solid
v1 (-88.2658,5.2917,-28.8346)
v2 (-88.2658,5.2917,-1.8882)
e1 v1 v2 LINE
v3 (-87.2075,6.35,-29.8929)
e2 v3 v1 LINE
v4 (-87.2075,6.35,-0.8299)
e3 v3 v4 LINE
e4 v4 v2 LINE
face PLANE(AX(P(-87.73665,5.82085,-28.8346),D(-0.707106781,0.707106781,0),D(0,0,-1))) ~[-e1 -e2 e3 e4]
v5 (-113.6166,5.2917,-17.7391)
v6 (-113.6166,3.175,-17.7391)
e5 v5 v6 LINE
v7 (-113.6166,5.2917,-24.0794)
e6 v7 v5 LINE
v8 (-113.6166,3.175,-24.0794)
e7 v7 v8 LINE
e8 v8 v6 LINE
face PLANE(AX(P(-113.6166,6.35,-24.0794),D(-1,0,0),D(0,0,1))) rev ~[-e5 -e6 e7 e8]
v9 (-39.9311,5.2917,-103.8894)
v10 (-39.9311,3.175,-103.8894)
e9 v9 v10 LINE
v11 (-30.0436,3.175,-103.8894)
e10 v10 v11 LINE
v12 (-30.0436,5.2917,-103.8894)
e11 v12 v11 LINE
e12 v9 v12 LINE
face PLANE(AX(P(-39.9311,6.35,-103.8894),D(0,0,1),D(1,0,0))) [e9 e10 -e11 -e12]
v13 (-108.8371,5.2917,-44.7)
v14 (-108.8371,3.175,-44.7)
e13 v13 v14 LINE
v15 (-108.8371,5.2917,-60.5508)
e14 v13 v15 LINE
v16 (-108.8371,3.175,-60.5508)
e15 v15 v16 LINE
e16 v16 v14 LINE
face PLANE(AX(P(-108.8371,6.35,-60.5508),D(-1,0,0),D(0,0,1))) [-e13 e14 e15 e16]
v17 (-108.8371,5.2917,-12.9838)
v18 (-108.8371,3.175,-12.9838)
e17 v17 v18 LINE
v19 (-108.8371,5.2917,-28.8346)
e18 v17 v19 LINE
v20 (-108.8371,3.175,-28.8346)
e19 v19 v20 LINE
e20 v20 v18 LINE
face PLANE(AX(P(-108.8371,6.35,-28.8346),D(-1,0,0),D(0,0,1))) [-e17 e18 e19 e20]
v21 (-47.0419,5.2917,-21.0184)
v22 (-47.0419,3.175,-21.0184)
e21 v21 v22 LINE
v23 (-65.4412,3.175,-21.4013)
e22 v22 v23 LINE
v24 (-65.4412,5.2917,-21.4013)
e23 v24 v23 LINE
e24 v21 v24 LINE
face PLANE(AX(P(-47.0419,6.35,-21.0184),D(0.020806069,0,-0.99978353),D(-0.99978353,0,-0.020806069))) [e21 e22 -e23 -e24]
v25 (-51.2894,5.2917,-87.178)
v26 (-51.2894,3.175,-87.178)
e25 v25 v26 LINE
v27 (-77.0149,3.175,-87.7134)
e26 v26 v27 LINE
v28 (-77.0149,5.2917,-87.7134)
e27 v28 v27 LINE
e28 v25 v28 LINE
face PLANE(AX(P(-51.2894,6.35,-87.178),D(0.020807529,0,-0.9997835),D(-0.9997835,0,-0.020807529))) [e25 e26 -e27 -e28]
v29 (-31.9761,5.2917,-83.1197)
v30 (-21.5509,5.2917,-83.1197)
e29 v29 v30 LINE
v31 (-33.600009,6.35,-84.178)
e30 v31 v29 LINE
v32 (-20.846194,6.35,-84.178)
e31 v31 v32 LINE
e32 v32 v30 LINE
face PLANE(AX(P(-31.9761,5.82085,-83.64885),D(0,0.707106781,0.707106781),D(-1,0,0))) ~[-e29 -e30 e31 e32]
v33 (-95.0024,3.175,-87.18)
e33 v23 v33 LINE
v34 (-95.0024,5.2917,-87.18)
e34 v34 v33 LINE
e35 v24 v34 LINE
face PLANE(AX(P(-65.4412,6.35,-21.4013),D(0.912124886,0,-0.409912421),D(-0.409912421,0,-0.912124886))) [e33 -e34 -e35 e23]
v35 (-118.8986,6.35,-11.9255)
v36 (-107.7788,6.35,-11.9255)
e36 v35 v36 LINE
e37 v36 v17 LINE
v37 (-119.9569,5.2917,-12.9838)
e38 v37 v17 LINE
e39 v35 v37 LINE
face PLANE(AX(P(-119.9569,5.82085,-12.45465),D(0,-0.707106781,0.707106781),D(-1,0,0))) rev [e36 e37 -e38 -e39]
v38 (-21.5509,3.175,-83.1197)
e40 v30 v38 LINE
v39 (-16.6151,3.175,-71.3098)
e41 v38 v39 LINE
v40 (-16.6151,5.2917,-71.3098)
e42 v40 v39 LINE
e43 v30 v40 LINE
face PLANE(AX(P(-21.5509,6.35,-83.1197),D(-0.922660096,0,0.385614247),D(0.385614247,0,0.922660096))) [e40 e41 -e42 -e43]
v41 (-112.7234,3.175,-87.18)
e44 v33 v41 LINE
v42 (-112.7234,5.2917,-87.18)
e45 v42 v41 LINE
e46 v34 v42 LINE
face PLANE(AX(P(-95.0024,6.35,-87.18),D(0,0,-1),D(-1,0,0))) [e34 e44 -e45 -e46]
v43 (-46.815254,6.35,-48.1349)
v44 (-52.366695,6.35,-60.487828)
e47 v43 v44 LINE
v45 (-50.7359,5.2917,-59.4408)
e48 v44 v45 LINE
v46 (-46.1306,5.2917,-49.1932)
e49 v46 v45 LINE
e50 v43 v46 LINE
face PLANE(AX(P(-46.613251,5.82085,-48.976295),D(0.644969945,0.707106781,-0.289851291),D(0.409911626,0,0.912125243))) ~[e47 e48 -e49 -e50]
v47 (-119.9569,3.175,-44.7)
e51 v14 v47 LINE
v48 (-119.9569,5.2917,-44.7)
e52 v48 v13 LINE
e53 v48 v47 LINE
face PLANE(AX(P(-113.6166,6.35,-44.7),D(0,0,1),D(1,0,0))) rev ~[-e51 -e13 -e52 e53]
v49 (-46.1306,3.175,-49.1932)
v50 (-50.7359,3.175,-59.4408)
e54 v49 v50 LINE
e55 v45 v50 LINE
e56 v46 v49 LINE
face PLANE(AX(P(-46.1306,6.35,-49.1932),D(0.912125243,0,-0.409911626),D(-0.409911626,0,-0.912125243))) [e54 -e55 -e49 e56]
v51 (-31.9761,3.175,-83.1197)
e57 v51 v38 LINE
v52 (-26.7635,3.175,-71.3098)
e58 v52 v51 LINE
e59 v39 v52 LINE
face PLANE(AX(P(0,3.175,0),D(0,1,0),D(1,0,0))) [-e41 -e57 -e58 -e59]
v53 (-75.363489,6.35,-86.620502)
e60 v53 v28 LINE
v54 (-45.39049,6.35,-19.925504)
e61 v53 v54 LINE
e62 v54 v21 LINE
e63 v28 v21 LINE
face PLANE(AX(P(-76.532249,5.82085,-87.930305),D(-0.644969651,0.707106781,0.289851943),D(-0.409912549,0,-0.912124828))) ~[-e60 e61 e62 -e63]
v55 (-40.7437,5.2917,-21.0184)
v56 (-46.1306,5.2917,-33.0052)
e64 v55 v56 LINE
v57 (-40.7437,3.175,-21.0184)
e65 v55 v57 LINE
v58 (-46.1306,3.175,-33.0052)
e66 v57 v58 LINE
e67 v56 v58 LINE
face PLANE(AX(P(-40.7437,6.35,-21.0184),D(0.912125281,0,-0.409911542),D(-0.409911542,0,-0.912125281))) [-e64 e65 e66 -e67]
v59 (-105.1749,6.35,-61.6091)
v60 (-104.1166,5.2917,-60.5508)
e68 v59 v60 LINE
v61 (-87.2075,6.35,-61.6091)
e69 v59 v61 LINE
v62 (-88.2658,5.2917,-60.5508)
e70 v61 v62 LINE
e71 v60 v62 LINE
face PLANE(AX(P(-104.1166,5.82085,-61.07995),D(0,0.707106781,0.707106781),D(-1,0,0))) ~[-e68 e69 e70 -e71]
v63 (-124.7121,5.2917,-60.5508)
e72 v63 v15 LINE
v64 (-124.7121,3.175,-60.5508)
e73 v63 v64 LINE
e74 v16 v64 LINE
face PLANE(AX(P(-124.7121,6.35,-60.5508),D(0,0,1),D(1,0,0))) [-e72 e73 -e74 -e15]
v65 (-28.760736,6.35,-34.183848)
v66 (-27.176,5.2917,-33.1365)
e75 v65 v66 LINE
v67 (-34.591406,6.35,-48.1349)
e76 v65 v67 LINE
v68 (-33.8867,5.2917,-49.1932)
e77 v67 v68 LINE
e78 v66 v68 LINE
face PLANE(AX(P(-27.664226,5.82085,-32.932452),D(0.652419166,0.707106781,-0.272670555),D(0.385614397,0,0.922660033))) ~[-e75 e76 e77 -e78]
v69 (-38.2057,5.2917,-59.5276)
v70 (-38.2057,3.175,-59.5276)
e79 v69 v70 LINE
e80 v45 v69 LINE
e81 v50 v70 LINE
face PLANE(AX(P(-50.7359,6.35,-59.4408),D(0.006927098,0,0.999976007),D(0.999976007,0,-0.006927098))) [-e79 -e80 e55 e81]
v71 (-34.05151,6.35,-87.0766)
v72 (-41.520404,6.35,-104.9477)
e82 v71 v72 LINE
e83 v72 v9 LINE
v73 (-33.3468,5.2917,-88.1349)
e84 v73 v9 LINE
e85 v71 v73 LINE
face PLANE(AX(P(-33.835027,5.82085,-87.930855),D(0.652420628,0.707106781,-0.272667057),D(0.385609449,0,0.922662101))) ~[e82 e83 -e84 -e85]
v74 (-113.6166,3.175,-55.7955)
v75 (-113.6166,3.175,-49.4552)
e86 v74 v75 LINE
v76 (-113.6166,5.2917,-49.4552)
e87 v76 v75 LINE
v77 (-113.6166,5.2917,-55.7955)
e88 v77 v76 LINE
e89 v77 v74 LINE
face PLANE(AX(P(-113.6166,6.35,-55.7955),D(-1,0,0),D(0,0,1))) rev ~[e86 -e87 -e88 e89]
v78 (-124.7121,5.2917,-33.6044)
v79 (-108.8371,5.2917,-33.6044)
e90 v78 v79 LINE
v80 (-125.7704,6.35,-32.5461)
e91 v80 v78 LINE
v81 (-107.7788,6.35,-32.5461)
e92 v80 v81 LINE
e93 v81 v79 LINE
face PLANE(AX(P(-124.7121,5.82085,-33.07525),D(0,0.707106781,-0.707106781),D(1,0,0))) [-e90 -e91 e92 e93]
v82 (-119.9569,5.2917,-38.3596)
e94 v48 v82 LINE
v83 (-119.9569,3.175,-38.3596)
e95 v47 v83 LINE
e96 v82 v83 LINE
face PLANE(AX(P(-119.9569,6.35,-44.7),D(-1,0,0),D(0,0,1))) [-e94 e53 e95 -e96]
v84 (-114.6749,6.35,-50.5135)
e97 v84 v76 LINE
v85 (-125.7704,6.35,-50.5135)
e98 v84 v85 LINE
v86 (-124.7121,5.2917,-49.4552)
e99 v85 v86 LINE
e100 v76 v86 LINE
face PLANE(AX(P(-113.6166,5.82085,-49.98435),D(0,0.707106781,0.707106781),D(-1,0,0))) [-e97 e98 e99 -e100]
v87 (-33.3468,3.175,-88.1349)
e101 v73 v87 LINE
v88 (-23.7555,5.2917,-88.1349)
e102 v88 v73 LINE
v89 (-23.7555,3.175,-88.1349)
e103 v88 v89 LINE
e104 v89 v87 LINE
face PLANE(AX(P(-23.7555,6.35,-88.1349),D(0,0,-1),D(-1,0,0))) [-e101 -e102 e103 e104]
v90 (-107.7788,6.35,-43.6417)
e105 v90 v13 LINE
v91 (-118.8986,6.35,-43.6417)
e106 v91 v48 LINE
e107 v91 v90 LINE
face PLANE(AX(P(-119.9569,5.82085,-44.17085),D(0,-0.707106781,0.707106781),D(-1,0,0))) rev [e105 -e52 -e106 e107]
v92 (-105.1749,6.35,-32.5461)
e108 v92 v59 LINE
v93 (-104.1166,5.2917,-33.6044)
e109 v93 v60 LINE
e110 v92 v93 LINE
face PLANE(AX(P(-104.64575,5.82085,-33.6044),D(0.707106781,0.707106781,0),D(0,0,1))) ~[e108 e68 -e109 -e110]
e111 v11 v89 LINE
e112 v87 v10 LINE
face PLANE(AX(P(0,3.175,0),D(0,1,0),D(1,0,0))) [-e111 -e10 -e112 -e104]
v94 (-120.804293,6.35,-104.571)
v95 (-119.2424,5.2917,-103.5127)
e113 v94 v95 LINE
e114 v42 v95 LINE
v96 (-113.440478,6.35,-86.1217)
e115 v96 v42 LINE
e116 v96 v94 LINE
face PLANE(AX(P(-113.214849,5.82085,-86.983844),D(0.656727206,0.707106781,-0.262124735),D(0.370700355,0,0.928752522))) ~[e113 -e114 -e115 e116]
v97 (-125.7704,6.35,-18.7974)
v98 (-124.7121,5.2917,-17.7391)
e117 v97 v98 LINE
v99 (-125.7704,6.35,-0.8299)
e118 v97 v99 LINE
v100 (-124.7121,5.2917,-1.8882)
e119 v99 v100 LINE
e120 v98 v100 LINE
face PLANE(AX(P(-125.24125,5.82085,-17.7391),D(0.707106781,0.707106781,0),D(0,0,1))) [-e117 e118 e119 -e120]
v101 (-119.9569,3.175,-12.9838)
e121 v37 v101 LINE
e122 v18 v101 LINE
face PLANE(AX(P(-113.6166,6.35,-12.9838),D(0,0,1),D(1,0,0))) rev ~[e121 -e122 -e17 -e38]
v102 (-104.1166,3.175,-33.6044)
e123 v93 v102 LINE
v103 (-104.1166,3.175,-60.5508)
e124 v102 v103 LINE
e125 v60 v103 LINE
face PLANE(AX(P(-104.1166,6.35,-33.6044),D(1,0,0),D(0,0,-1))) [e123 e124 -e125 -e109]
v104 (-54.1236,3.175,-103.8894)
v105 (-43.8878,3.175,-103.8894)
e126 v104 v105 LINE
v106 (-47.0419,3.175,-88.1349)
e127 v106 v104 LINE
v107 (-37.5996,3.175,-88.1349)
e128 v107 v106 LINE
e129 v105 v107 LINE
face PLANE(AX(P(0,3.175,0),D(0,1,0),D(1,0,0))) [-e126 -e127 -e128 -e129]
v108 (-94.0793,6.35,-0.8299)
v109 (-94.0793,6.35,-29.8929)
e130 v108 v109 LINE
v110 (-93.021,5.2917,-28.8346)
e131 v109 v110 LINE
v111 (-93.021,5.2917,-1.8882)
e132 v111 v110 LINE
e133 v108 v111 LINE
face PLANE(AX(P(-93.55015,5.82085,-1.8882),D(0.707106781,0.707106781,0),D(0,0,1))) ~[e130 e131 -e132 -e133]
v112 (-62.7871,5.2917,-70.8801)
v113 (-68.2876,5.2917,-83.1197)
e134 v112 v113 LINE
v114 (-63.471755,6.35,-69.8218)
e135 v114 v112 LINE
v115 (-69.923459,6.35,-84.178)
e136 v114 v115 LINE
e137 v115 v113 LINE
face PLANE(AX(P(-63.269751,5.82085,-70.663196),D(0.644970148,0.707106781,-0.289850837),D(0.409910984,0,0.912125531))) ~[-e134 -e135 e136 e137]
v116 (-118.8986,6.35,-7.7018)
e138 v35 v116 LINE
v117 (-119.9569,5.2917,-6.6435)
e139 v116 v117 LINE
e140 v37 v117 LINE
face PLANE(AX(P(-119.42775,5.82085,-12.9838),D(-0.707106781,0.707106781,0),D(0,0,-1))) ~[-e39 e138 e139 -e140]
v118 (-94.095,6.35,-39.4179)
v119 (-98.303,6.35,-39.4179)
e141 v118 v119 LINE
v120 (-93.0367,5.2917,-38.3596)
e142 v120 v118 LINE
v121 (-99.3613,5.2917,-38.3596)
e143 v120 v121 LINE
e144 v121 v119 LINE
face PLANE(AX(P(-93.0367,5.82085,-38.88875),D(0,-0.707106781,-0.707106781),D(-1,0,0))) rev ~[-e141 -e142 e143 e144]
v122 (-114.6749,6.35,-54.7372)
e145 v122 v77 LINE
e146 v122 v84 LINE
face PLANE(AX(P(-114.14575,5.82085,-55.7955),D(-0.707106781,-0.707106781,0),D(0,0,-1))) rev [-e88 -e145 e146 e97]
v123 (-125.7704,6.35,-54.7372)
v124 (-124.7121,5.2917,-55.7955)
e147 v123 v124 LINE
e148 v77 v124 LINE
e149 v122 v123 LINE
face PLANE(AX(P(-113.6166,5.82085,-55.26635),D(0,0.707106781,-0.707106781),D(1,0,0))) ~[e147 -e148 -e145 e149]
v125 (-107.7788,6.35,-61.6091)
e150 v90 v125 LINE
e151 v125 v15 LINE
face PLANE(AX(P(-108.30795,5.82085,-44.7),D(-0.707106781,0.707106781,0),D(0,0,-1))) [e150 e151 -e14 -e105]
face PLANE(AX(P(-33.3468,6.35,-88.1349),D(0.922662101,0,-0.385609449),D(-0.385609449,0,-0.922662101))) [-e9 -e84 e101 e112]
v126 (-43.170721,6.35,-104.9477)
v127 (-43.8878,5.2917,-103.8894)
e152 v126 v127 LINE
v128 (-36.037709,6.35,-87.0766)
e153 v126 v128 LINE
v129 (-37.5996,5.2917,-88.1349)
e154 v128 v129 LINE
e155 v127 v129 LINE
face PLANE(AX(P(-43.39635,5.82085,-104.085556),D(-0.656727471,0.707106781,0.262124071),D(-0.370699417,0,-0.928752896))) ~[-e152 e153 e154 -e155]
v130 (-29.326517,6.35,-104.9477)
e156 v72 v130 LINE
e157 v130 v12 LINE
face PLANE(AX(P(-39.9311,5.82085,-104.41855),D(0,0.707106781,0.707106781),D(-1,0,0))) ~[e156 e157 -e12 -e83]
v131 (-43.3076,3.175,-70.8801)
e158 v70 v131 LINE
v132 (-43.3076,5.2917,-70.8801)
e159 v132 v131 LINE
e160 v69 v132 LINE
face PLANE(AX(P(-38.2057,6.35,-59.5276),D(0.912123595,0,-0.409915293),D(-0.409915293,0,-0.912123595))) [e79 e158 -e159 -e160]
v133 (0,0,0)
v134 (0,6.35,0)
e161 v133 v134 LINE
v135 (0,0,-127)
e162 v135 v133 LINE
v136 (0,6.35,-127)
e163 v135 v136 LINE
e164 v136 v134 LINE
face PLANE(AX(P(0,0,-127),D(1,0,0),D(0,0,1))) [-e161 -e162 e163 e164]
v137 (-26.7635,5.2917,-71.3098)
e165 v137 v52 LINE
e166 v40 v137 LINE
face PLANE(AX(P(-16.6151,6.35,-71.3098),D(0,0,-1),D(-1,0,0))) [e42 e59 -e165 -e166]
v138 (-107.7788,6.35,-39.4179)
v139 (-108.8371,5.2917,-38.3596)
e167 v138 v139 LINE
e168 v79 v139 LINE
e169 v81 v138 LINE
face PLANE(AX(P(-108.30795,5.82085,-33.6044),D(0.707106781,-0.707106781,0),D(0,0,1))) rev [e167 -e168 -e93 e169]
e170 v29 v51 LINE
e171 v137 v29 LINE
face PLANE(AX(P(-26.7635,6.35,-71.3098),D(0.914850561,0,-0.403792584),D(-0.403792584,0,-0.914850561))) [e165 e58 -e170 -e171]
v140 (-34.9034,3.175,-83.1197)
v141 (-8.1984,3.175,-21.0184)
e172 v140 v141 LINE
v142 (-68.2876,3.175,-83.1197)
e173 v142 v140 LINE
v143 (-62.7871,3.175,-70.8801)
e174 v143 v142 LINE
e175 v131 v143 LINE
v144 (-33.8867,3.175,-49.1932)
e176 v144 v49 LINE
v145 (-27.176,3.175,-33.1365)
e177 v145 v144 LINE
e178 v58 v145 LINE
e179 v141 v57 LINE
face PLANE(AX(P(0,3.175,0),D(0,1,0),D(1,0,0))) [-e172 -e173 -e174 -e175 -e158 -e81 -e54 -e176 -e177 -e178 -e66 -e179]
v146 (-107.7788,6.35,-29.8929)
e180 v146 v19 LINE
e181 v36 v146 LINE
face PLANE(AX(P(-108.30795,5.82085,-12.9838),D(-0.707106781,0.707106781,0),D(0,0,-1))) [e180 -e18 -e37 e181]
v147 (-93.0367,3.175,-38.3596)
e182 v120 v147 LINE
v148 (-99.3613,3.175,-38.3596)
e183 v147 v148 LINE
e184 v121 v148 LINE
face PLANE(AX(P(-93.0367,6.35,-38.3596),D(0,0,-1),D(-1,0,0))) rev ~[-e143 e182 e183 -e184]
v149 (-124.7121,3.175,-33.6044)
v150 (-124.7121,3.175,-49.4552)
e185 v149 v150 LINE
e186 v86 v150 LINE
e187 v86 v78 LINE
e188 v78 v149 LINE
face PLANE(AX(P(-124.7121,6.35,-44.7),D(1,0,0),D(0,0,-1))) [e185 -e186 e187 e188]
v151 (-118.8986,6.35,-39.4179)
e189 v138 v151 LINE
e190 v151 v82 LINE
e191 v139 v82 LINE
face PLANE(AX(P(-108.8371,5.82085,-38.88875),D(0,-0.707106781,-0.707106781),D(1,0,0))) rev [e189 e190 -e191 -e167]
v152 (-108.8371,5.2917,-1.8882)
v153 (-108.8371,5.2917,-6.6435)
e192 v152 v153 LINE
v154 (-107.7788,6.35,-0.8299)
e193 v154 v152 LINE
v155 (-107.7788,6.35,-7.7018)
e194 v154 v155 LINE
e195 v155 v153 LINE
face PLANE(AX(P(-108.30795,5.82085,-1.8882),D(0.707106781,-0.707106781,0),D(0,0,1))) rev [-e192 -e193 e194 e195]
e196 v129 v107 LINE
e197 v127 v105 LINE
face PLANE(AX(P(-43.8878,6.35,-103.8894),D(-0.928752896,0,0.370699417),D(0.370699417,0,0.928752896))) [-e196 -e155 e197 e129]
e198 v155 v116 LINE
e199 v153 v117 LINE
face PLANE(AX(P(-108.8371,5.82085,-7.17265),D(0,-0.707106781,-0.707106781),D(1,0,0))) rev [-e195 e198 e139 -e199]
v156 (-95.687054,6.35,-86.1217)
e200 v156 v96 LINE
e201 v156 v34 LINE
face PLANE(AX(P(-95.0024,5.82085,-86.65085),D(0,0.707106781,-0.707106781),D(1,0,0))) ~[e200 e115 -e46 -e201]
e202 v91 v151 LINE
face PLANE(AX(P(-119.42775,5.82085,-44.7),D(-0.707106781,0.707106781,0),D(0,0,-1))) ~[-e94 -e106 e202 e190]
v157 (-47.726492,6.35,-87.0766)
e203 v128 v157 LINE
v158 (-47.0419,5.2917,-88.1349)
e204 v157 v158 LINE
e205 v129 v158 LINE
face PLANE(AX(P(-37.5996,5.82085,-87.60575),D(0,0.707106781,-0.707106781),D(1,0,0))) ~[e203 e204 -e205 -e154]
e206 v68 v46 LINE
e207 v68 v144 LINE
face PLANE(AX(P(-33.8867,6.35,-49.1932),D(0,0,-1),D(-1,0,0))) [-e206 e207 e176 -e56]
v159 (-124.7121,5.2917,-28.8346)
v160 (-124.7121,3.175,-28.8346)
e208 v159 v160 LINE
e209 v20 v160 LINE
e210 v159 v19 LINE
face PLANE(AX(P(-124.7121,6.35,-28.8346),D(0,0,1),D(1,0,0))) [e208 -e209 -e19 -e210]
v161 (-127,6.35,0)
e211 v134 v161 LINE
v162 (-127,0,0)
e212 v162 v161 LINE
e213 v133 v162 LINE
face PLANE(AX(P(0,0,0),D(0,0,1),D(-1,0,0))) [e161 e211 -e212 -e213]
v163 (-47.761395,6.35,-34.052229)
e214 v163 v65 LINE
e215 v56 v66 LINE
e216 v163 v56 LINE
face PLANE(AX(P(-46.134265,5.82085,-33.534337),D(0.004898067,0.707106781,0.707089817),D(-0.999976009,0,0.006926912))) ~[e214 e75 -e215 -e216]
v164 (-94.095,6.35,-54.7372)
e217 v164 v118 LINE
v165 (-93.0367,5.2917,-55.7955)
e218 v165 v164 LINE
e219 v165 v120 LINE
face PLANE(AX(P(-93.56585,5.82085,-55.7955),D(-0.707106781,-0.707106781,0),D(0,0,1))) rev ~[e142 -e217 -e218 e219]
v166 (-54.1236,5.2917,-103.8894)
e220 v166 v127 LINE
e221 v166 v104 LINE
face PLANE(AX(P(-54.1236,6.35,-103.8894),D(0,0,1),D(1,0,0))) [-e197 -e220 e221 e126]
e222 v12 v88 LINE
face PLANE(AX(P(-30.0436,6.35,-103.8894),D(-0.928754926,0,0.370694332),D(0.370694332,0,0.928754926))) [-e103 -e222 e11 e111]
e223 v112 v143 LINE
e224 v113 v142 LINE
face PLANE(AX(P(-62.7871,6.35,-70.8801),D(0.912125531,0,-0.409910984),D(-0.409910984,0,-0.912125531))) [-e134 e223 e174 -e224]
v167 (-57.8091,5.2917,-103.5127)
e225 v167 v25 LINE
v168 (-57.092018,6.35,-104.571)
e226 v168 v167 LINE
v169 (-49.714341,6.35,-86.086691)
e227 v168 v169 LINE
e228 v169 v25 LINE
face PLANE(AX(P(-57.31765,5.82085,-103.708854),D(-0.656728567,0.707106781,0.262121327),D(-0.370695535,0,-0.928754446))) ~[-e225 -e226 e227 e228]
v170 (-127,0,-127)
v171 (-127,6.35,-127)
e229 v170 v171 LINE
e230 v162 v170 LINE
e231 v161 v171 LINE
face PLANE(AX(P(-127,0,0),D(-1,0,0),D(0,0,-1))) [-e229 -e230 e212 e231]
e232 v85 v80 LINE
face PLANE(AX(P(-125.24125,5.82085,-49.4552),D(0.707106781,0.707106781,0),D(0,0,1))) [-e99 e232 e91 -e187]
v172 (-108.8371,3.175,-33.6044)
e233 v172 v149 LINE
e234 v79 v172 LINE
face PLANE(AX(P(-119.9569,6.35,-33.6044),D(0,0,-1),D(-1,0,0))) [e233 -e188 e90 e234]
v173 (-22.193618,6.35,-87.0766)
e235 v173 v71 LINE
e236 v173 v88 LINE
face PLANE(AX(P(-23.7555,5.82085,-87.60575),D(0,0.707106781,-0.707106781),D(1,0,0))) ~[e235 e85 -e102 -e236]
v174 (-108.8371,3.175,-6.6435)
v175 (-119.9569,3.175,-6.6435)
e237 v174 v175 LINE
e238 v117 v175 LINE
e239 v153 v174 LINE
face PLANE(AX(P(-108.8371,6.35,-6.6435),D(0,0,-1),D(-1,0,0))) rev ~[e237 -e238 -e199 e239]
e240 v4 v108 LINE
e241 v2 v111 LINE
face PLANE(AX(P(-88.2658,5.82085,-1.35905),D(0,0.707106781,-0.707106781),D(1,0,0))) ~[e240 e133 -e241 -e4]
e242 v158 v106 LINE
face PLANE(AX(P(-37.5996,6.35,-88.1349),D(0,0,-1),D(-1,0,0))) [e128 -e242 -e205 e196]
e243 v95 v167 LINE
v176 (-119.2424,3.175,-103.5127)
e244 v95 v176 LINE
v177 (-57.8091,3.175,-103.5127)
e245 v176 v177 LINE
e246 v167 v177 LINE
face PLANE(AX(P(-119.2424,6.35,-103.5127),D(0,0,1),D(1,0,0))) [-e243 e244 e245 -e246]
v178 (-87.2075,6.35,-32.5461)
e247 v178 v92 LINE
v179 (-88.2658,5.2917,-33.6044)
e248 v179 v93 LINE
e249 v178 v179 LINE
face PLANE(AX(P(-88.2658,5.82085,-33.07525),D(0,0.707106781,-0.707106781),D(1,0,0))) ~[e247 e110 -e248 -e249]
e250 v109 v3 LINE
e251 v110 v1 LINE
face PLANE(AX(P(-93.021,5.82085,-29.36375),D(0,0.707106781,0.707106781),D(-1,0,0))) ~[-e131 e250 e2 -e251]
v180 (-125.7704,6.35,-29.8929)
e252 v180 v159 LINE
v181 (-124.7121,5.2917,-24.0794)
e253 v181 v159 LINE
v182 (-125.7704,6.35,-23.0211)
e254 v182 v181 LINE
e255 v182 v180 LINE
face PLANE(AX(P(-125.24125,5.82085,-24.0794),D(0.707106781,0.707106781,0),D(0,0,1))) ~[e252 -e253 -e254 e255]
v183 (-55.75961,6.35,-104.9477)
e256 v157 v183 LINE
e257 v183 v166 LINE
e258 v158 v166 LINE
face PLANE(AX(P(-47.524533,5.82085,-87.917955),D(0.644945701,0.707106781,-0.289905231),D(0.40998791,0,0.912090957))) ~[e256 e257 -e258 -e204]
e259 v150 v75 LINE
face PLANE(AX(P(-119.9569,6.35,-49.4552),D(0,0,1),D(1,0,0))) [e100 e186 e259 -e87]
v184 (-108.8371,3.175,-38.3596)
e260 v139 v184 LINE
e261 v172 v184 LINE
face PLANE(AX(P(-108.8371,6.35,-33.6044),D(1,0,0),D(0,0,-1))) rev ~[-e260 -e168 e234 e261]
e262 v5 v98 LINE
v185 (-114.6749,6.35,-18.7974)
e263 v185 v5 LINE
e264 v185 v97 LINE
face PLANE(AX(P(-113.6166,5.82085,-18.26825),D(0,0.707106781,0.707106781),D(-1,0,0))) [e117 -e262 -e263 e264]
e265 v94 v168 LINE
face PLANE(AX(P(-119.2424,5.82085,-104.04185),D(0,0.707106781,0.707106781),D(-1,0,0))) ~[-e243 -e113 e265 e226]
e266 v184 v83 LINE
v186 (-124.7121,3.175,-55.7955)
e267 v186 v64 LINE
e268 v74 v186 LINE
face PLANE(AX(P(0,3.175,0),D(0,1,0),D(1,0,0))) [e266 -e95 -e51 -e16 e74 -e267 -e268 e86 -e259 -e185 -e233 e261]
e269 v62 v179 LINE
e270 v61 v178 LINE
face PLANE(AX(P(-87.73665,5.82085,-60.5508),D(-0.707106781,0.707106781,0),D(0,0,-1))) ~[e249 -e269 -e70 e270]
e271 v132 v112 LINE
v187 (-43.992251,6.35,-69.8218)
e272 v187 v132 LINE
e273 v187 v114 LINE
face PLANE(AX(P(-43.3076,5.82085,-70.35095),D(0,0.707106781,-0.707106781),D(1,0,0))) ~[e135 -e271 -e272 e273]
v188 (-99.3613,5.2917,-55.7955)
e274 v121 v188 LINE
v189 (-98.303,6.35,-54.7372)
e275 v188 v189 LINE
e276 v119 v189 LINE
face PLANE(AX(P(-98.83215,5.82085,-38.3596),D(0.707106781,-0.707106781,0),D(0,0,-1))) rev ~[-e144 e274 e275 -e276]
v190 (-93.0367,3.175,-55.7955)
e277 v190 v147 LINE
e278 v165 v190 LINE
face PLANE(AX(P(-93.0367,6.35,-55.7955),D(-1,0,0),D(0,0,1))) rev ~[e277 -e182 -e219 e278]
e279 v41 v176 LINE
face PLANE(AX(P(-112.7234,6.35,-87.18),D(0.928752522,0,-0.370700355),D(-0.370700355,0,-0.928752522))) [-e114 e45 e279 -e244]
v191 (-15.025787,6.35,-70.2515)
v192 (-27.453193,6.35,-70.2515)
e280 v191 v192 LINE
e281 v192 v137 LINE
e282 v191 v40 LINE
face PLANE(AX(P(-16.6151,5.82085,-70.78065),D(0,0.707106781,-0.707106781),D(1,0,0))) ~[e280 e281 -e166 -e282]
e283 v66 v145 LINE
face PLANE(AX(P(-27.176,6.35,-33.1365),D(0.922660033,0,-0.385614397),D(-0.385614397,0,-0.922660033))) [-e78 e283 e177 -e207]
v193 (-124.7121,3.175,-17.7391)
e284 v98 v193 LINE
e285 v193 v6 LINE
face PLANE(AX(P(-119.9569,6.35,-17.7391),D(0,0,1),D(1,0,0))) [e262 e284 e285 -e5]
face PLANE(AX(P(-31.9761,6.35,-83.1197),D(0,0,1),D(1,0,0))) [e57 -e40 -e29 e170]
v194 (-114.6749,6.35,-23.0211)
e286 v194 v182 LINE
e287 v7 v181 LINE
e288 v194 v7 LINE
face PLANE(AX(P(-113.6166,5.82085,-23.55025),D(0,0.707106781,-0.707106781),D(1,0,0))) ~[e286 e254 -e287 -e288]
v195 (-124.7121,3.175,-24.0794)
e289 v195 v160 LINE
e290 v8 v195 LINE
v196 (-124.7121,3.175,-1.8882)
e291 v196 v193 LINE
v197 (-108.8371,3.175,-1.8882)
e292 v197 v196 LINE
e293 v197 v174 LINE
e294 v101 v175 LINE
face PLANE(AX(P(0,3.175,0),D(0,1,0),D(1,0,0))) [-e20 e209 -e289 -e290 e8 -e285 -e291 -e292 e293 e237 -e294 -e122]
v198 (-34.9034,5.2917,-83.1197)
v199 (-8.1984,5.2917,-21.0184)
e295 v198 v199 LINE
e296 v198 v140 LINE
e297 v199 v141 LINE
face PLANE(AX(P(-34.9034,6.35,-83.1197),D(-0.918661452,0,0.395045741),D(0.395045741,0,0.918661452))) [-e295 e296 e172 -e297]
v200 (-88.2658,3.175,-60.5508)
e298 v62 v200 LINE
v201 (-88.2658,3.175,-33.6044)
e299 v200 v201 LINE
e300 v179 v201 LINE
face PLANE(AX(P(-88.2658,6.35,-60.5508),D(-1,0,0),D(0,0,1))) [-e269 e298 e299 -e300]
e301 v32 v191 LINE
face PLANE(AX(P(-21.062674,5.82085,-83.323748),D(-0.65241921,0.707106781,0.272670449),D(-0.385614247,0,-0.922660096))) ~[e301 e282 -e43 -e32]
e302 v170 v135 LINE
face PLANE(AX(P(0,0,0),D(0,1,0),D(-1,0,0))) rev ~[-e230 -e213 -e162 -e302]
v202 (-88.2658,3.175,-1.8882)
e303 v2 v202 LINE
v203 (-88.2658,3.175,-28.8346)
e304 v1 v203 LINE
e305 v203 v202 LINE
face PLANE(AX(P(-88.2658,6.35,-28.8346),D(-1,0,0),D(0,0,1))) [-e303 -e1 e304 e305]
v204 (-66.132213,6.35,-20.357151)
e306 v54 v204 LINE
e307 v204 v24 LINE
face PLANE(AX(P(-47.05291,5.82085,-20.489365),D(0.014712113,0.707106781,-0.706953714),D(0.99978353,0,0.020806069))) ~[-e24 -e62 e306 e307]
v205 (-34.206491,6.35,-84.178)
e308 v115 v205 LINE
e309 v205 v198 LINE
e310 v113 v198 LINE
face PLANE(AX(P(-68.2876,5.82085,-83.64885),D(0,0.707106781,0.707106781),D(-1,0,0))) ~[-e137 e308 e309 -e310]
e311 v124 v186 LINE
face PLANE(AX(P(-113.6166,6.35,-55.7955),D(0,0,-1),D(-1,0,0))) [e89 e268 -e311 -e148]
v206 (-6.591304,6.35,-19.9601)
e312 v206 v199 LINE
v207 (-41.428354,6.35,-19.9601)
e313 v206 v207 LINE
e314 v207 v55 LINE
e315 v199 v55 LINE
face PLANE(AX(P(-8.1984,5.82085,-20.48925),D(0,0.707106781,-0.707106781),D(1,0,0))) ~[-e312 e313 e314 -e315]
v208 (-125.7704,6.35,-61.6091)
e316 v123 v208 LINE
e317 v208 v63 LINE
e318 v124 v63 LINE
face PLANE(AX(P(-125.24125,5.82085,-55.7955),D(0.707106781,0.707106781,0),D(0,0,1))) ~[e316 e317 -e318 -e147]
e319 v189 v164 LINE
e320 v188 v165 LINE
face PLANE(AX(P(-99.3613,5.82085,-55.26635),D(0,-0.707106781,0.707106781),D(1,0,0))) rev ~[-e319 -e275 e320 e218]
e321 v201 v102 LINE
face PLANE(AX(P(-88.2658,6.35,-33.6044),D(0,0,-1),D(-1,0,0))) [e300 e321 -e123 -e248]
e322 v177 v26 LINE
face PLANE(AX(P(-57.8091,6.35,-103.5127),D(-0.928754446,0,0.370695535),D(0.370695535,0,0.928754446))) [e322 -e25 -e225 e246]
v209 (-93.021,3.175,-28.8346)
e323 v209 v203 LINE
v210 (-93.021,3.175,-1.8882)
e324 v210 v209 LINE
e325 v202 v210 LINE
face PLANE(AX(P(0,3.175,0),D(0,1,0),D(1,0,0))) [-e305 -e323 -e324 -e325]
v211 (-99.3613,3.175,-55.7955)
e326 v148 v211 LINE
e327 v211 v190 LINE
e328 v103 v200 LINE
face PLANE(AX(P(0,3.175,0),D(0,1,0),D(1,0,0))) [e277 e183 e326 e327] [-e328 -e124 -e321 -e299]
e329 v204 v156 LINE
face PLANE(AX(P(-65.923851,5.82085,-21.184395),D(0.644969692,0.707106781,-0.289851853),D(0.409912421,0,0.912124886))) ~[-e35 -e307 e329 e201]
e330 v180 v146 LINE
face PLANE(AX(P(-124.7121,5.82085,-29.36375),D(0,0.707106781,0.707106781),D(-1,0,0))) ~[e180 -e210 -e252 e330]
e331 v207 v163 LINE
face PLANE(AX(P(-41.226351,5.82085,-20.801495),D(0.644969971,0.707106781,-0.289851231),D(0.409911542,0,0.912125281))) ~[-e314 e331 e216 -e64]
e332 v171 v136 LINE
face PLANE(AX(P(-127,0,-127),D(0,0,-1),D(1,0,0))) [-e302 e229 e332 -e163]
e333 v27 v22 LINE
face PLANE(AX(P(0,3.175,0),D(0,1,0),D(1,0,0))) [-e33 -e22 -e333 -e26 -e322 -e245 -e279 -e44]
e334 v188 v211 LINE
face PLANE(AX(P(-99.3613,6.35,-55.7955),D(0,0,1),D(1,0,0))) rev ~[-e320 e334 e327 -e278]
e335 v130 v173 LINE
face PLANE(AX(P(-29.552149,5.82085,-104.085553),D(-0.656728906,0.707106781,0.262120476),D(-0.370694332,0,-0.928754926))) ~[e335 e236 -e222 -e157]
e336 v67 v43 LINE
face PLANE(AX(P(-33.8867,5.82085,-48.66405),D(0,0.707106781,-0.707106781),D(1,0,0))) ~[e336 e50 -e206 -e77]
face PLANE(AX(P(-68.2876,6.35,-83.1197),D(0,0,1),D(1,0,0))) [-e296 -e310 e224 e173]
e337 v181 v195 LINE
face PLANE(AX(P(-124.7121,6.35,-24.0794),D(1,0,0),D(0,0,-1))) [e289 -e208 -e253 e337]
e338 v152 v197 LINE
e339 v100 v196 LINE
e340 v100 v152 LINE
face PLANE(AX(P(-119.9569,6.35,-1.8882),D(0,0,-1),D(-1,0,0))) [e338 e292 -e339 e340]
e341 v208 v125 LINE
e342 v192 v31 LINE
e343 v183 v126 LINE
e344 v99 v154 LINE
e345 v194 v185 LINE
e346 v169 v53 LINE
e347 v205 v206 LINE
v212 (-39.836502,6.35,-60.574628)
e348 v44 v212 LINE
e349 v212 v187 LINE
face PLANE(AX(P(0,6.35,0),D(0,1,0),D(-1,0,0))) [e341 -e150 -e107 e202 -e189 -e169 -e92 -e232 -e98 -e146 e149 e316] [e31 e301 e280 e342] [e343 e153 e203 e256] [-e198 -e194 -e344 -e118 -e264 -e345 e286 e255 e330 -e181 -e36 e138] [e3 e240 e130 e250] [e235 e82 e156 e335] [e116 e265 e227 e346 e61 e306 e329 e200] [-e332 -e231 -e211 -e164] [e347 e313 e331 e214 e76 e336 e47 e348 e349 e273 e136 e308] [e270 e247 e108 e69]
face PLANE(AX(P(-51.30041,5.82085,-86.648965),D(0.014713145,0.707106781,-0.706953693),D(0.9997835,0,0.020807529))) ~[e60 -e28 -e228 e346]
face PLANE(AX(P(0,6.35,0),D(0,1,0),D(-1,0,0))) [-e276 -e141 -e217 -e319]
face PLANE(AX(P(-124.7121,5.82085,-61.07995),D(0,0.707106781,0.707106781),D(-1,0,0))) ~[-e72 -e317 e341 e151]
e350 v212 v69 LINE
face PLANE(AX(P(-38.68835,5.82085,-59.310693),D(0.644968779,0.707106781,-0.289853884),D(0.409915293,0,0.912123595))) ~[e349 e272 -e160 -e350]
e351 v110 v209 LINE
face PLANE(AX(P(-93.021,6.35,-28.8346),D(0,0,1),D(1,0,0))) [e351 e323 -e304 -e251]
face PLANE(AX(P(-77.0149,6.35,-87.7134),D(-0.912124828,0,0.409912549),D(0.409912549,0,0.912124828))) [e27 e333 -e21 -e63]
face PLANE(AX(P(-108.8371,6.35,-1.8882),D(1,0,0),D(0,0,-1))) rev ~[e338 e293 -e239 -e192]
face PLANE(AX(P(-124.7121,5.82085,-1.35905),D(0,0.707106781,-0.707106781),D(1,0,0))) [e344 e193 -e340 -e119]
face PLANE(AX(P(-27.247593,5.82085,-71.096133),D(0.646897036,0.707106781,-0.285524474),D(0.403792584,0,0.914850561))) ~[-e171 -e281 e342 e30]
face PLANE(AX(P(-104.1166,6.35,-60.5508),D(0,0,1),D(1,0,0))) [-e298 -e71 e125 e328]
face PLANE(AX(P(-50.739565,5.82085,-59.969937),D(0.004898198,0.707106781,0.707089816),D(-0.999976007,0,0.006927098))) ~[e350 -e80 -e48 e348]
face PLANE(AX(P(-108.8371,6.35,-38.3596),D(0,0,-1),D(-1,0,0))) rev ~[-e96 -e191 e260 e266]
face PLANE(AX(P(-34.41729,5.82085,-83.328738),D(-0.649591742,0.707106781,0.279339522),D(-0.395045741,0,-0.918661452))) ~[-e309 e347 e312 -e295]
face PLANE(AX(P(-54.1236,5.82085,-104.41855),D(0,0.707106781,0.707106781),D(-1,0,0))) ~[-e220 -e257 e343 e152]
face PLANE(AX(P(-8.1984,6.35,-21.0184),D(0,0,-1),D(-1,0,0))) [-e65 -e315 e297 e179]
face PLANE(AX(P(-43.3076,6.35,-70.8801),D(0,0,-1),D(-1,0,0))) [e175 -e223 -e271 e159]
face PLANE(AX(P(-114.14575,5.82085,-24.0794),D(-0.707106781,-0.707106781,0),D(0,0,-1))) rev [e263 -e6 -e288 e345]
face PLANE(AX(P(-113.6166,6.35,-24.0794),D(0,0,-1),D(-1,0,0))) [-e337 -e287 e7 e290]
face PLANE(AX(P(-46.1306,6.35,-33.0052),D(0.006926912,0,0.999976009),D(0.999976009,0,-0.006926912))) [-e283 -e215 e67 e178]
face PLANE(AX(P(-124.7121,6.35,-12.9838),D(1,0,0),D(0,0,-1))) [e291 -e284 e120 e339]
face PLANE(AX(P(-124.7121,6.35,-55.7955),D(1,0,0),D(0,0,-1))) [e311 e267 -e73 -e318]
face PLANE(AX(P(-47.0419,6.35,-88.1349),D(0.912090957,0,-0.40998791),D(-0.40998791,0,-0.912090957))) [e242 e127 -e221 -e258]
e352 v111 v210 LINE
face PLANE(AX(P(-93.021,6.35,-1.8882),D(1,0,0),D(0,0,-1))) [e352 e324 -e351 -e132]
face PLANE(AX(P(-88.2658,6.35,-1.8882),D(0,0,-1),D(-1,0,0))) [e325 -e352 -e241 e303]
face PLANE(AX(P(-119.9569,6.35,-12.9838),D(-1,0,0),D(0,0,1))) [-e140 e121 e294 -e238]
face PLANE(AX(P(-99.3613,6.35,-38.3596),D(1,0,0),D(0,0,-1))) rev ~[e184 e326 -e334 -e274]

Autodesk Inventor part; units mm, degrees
ref_plane "YZ Plane" through (0, 0, 0) normal (1, 0, 0) x (0, 1, 0)
ref_plane "XZ Plane" through (0, 0, 0) normal (0, 1, 0) x (-1, 0, 0)
ref_plane "XY Plane" through (0, 0, 0) normal (0, 0, 1) x (1, 0, 0)
sketch "Sketch1" plane through (0, 0, 0) normal (0, 1, 0) x (-1, 0, 0)
  line L0 (0, 0) -> (127, 0)
  line L1 (127, 0) -> (127, -127)
  line L2 (127, -127) -> (0, -127)
  line L3 (0, -127) -> (0, 0)
  dimension "d0" = 127
  dimension "d1" = 127
extrude "Extrusion1" add sketch "Sketch1" along normal blind 6.35
sketch "Sketch2" plane through (0, 6.35, 0) normal (0, 1, 0) x (1, 0, 0)
  line L0 (-101.0761, 97.2689) -> (-28.5802, 97.2689) construction
  line L1 (-28.5802, 97.2689) -> (-28.5802, 40.6481) construction
  line L2 (-28.5802, 40.6481) -> (-101.0761, 40.6481) construction
  line L3 (-101.0761, 40.6481) -> (-101.0761, 97.2689) construction
  line L4 (0, 127) -> (-127, 127) construction
  line L5 (-63.5, 127) -> (-63.5, 0) construction
  line L6 (-127, 0) -> (0, 0) construction
  line L7 (0, 0) -> (0, 127) construction
  line L8 (0, 68.4911) -> (-127, 68.4911) construction
  line L9 (-127, 127) -> (-127, 0) construction
  point P0 (-63.5, 68.4911)
sketch "Sketch3" plane through (0, 6.35, 0) normal (0, 1, 0) x (1, 0, 0)
  line L0 (-119.2424, 103.5127) -> (-57.8091, 103.5127)
  line L1 (-57.8091, 103.5127) -> (-51.2894, 87.178)
  line L2 (-51.2894, 87.178) -> (-77.0149, 87.7134)
  line L3 (-77.0149, 87.7134) -> (-47.0419, 21.0184)
  line L4 (-47.0419, 21.0184) -> (-65.4412, 21.4013)
  line L5 (-65.4412, 21.4013) -> (-95.0024, 87.18)
  line L6 (-95.0024, 87.18) -> (-112.7234, 87.18)
  line L7 (-112.7234, 87.18) -> (-119.2424, 103.5127)
  line L8 (-54.1236, 103.8894) -> (-43.8878, 103.8894)
  line L9 (-43.8878, 103.8894) -> (-37.5996, 88.1349)
  line L10 (-37.5996, 88.1349) -> (-47.0419, 88.1349)
  line L11 (-47.0419, 88.1349) -> (-54.1236, 103.8894)
  line L12 (-39.9311, 103.8894) -> (-30.0436, 103.8894)
  line L13 (-30.0436, 103.8894) -> (-23.7555, 88.1349)
  line L14 (-23.7555, 88.1349) -> (-33.3468, 88.1349)
  line L15 (-33.3468, 88.1349) -> (-39.9311, 103.8894)
  line L16 (-68.2876, 83.1197) -> (-34.9034, 83.1197)
  line L17 (-34.9034, 83.1197) -> (-8.1984, 21.0184)
  line L18 (-8.1984, 21.0184) -> (-40.7437, 21.0184)
  line L19 (-40.7437, 21.0184) -> (-46.1306, 33.0052)
  line L20 (-46.1306, 33.0052) -> (-27.176, 33.1365)
  line L21 (-27.176, 33.1365) -> (-33.8867, 49.1932)
  line L22 (-33.8867, 49.1932) -> (-46.1306, 49.1932)
  line L23 (-46.1306, 49.1932) -> (-50.7359, 59.4408)
  line L24 (-50.7359, 59.4408) -> (-38.2057, 59.5276)
  line L25 (-38.2057, 59.5276) -> (-43.3076, 70.8801)
  line L26 (-43.3076, 70.8801) -> (-62.7871, 70.8801)
  line L27 (-62.7871, 70.8801) -> (-68.2876, 83.1197)
  line L28 (-31.9761, 83.1197) -> (-21.5509, 83.1197)
  line L29 (-21.5509, 83.1197) -> (-16.6151, 71.3098)
  line L30 (-16.6151, 71.3098) -> (-26.7635, 71.3098)
  line L31 (-26.7635, 71.3098) -> (-31.9761, 83.1197)
  point P0 (0, 0)
extrude "Extrusion2" cut sketch "Sketch3" against normal blind 3.175
chamfer "Chamfer1" distance 1.0583 angle 45 32 edges at (-88.5257, 6.35, -103.5127) (-115.9829, 6.35, -95.3463) (-103.8629, 6.35, -87.18) (-80.2218, 6.35, -54.2906) (-56.2415, 6.35, -21.2099) (-62.0284, 6.35, -54.3659) (-64.1522, 6.35, -87.4457) (-54.5493, 6.35, -95.3454) (-50.5827, 6.35, -96.0122) (-49.0057, 6.35, -103.8894) (-40.7437, 6.35, -96.0122) (-42.3208, 6.35, -88.1349) (-36.6389, 6.35, -96.0122) (-34.9874, 6.35, -103.8894) (-26.8995, 6.35, -96.0122) (-28.5511, 6.35, -88.1349) (-26.7635, 6.35, -83.1197) (-29.3698, 6.35, -77.2147) (-21.6893, 6.35, -71.3098) (-19.083, 6.35, -77.2147) (-40.7567, 6.35, -65.2038) (-44.4708, 6.35, -59.4842) (-48.4333, 6.35, -54.317) (-40.0086, 6.35, -49.1932) (-30.5314, 6.35, -41.1648) (-36.6533, 6.35, -33.0708) (-43.4372, 6.35, -27.0118) (-24.471, 6.35, -21.0184) (-21.5509, 6.35, -52.069) (-51.5955, 6.35, -83.1197) (-65.5374, 6.35, -76.9999) (-53.0473, 6.35, -70.8801)
sketch "Sketch4" plane through (0, 6.35, 0) normal (0, 1, 0) x (1, 0, 0)
  line L0 (-124.7121, 60.5508) -> (-108.8371, 60.5508)
  line L1 (-108.8371, 60.5508) -> (-108.8371, 55.7955)
  line L2 (-108.8371, 55.7955) -> (-124.7121, 55.7955)
  line L3 (-124.7121, 55.7955) -> (-124.7121, 60.5508)
  line L4 (-108.8371, 60.5508) -> (-113.6166, 60.5508)
  line L5 (-113.6166, 60.5508) -> (-113.6166, 44.7)
  line L6 (-113.6166, 44.7) -> (-108.8371, 44.7)
  line L7 (-108.8371, 44.7) -> (-108.8371, 60.5508)
  line L8 (-108.8371, 44.7) -> (-124.7121, 44.7)
  line L9 (-124.7121, 44.7) -> (-124.7121, 49.4552)
  line L10 (-124.7121, 49.4552) -> (-108.8371, 49.4552)
  line L11 (-108.8371, 49.4552) -> (-108.8371, 44.7)
  line L12 (-124.7121, 49.4552) -> (-119.9569, 49.4552)
  line L13 (-119.9569, 49.4552) -> (-119.9569, 33.6044)
  line L14 (-119.9569, 33.6044) -> (-124.7121, 33.6044)
  line L15 (-124.7121, 33.6044) -> (-124.7121, 49.4552)
  line L16 (-124.7121, 33.6044) -> (-108.8371, 33.6044)
  line L17 (-108.8371, 33.6044) -> (-108.8371, 38.3596)
  line L18 (-108.8371, 38.3596) -> (-124.7121, 38.3596)
  line L19 (-124.7121, 38.3596) -> (-124.7121, 33.6044)
  line L20 (-104.1166, 60.5508) -> (-88.2658, 60.5508)
  line L21 (-88.2658, 60.5508) -> (-88.2658, 33.6044)
  line L22 (-88.2658, 33.6044) -> (-104.1166, 33.6044)
  line L23 (-104.1166, 33.6044) -> (-104.1166, 60.5508)
  line L24 (-99.3613, 55.7955) -> (-93.0367, 55.7955)
  line L25 (-93.0367, 55.7955) -> (-93.0367, 38.3596)
  line L26 (-93.0367, 38.3596) -> (-99.3613, 38.3596)
  line L27 (-99.3613, 38.3596) -> (-99.3613, 55.7955)
  line L28 (-124.7121, 28.8346) -> (-108.8371, 28.8346)
  line L29 (-108.8371, 28.8346) -> (-108.8371, 24.0794)
  line L30 (-108.8371, 24.0794) -> (-124.7121, 24.0794)
  line L31 (-124.7121, 24.0794) -> (-124.7121, 28.8346)
  line L32 (-108.8371, 28.8346) -> (-113.6166, 28.8346)
  line L33 (-113.6166, 28.8346) -> (-113.6166, 12.9838)
  line L34 (-113.6166, 12.9838) -> (-108.8371, 12.9838)
  line L35 (-108.8371, 12.9838) -> (-108.8371, 28.8346)
  line L36 (-108.8371, 12.9838) -> (-124.7121, 12.9838)
  line L37 (-124.7121, 12.9838) -> (-124.7121, 17.7391)
  line L38 (-124.7121, 17.7391) -> (-108.8371, 17.7391)
  line L39 (-108.8371, 17.7391) -> (-108.8371, 12.9838)
  line L40 (-124.7121, 17.7391) -> (-119.9569, 17.7391)
  line L41 (-119.9569, 17.7391) -> (-119.9569, 1.8882)
  line L42 (-119.9569, 1.8882) -> (-124.7121, 1.8882)
  line L43 (-124.7121, 1.8882) -> (-124.7121, 17.7391)
  line L44 (-124.7121, 1.8882) -> (-108.8371, 1.8882)
  line L45 (-108.8371, 1.8882) -> (-108.8371, 6.6435)
  line L46 (-108.8371, 6.6435) -> (-124.7121, 6.6435)
  line L47 (-124.7121, 6.6435) -> (-124.7121, 1.8882)
  line L48 (-93.021, 28.8346) -> (-88.2658, 28.8346)
  line L49 (-88.2658, 28.8346) -> (-88.2658, 1.8882)
  line L50 (-88.2658, 1.8882) -> (-93.021, 1.8882)
  line L51 (-93.021, 1.8882) -> (-93.021, 28.8346)
  point P0 (0, 0)
  point P1 (-124.7121, 22.4419)
  point P2 (-104.1166, 28.8346)
  point P3 (-99.3613, 28.8346)
  point P4 (-113.6166, 24.0794)
  point P5 (-113.6166, 17.7391)
  point P6 (-119.9569, 6.6435)
  point P7 (-119.9569, 12.9838)
  point P8 (-119.9569, 38.3596)
  point P9 (-119.9569, 44.7)
  point P10 (-113.6166, 44.7)
  point P11 (-113.6166, 55.7955)
  point P12 (-113.6166, 49.4552)
  dimension "d15" = 15.875
  dimension "d16" = 4.7552
  dimension "d17" = 4.7794
  dimension "d18" = 15.8508
  dimension "d19" = 4.7552
  dimension "d20" = 4.7552
  dimension "d21" = 15.8508
  dimension "d22" = 4.7552
  dimension "d26" = 6.3246
  dimension "d27" = 17.4359
  dimension "d28" = 15.875
  dimension "d29" = 4.7552
  dimension "d30" = 4.7794
  dimension "d31" = 15.8508
  dimension "d32" = 4.7552
  dimension "d33" = 4.7552
  dimension "d34" = 15.8508
  dimension "d35" = 4.7552
extrude "Extrusion3" cut sketch "Sketch4" against normal blind 3.175
chamfer "Chamfer2" distance 1.0583 angle 45 36 edges at (-124.7121, 6.35, -58.1732) (-116.7746, 6.35, -60.5508) (-119.1644, 6.35, -55.7955) (-113.6166, 6.35, -52.6254) (-119.1644, 6.35, -49.4552) (-124.7121, 6.35, -41.5298) (-116.7746, 6.35, -33.6044) (-108.8371, 6.35, -35.982) (-114.397, 6.35, -38.3596) (-119.9569, 6.35, -41.5298) (-114.397, 6.35, -44.7) (-108.8371, 6.35, -52.6254) (-99.3613, 6.35, -47.0776) (-96.199, 6.35, -55.7955) (-93.0367, 6.35, -47.0776) (-96.199, 6.35, -38.3596) (-96.1912, 6.35, -33.6044) (-88.2658, 6.35, -47.0776) (-96.1912, 6.35, -60.5508) (-104.1166, 6.35, -47.0776) (-124.7121, 6.35, -26.457) (-116.7746, 6.35, -28.8346) (-108.8371, 6.35, -20.9092) (-119.1644, 6.35, -24.0794) (-113.6166, 6.35, -20.9092) (-119.1644, 6.35, -17.7391) (-124.7121, 6.35, -9.8136) (-119.9569, 6.35, -9.8136) (-114.397, 6.35, -6.6435) (-116.7746, 6.35, -1.8882) (-108.8371, 6.35, -4.2659) (-114.397, 6.35, -12.9838) (-88.2658, 6.35, -15.3614) (-90.6434, 6.35, -28.8346) (-93.021, 6.35, -15.3614) (-90.6434, 6.35, -1.8882)
properties part number "TestCAM"
